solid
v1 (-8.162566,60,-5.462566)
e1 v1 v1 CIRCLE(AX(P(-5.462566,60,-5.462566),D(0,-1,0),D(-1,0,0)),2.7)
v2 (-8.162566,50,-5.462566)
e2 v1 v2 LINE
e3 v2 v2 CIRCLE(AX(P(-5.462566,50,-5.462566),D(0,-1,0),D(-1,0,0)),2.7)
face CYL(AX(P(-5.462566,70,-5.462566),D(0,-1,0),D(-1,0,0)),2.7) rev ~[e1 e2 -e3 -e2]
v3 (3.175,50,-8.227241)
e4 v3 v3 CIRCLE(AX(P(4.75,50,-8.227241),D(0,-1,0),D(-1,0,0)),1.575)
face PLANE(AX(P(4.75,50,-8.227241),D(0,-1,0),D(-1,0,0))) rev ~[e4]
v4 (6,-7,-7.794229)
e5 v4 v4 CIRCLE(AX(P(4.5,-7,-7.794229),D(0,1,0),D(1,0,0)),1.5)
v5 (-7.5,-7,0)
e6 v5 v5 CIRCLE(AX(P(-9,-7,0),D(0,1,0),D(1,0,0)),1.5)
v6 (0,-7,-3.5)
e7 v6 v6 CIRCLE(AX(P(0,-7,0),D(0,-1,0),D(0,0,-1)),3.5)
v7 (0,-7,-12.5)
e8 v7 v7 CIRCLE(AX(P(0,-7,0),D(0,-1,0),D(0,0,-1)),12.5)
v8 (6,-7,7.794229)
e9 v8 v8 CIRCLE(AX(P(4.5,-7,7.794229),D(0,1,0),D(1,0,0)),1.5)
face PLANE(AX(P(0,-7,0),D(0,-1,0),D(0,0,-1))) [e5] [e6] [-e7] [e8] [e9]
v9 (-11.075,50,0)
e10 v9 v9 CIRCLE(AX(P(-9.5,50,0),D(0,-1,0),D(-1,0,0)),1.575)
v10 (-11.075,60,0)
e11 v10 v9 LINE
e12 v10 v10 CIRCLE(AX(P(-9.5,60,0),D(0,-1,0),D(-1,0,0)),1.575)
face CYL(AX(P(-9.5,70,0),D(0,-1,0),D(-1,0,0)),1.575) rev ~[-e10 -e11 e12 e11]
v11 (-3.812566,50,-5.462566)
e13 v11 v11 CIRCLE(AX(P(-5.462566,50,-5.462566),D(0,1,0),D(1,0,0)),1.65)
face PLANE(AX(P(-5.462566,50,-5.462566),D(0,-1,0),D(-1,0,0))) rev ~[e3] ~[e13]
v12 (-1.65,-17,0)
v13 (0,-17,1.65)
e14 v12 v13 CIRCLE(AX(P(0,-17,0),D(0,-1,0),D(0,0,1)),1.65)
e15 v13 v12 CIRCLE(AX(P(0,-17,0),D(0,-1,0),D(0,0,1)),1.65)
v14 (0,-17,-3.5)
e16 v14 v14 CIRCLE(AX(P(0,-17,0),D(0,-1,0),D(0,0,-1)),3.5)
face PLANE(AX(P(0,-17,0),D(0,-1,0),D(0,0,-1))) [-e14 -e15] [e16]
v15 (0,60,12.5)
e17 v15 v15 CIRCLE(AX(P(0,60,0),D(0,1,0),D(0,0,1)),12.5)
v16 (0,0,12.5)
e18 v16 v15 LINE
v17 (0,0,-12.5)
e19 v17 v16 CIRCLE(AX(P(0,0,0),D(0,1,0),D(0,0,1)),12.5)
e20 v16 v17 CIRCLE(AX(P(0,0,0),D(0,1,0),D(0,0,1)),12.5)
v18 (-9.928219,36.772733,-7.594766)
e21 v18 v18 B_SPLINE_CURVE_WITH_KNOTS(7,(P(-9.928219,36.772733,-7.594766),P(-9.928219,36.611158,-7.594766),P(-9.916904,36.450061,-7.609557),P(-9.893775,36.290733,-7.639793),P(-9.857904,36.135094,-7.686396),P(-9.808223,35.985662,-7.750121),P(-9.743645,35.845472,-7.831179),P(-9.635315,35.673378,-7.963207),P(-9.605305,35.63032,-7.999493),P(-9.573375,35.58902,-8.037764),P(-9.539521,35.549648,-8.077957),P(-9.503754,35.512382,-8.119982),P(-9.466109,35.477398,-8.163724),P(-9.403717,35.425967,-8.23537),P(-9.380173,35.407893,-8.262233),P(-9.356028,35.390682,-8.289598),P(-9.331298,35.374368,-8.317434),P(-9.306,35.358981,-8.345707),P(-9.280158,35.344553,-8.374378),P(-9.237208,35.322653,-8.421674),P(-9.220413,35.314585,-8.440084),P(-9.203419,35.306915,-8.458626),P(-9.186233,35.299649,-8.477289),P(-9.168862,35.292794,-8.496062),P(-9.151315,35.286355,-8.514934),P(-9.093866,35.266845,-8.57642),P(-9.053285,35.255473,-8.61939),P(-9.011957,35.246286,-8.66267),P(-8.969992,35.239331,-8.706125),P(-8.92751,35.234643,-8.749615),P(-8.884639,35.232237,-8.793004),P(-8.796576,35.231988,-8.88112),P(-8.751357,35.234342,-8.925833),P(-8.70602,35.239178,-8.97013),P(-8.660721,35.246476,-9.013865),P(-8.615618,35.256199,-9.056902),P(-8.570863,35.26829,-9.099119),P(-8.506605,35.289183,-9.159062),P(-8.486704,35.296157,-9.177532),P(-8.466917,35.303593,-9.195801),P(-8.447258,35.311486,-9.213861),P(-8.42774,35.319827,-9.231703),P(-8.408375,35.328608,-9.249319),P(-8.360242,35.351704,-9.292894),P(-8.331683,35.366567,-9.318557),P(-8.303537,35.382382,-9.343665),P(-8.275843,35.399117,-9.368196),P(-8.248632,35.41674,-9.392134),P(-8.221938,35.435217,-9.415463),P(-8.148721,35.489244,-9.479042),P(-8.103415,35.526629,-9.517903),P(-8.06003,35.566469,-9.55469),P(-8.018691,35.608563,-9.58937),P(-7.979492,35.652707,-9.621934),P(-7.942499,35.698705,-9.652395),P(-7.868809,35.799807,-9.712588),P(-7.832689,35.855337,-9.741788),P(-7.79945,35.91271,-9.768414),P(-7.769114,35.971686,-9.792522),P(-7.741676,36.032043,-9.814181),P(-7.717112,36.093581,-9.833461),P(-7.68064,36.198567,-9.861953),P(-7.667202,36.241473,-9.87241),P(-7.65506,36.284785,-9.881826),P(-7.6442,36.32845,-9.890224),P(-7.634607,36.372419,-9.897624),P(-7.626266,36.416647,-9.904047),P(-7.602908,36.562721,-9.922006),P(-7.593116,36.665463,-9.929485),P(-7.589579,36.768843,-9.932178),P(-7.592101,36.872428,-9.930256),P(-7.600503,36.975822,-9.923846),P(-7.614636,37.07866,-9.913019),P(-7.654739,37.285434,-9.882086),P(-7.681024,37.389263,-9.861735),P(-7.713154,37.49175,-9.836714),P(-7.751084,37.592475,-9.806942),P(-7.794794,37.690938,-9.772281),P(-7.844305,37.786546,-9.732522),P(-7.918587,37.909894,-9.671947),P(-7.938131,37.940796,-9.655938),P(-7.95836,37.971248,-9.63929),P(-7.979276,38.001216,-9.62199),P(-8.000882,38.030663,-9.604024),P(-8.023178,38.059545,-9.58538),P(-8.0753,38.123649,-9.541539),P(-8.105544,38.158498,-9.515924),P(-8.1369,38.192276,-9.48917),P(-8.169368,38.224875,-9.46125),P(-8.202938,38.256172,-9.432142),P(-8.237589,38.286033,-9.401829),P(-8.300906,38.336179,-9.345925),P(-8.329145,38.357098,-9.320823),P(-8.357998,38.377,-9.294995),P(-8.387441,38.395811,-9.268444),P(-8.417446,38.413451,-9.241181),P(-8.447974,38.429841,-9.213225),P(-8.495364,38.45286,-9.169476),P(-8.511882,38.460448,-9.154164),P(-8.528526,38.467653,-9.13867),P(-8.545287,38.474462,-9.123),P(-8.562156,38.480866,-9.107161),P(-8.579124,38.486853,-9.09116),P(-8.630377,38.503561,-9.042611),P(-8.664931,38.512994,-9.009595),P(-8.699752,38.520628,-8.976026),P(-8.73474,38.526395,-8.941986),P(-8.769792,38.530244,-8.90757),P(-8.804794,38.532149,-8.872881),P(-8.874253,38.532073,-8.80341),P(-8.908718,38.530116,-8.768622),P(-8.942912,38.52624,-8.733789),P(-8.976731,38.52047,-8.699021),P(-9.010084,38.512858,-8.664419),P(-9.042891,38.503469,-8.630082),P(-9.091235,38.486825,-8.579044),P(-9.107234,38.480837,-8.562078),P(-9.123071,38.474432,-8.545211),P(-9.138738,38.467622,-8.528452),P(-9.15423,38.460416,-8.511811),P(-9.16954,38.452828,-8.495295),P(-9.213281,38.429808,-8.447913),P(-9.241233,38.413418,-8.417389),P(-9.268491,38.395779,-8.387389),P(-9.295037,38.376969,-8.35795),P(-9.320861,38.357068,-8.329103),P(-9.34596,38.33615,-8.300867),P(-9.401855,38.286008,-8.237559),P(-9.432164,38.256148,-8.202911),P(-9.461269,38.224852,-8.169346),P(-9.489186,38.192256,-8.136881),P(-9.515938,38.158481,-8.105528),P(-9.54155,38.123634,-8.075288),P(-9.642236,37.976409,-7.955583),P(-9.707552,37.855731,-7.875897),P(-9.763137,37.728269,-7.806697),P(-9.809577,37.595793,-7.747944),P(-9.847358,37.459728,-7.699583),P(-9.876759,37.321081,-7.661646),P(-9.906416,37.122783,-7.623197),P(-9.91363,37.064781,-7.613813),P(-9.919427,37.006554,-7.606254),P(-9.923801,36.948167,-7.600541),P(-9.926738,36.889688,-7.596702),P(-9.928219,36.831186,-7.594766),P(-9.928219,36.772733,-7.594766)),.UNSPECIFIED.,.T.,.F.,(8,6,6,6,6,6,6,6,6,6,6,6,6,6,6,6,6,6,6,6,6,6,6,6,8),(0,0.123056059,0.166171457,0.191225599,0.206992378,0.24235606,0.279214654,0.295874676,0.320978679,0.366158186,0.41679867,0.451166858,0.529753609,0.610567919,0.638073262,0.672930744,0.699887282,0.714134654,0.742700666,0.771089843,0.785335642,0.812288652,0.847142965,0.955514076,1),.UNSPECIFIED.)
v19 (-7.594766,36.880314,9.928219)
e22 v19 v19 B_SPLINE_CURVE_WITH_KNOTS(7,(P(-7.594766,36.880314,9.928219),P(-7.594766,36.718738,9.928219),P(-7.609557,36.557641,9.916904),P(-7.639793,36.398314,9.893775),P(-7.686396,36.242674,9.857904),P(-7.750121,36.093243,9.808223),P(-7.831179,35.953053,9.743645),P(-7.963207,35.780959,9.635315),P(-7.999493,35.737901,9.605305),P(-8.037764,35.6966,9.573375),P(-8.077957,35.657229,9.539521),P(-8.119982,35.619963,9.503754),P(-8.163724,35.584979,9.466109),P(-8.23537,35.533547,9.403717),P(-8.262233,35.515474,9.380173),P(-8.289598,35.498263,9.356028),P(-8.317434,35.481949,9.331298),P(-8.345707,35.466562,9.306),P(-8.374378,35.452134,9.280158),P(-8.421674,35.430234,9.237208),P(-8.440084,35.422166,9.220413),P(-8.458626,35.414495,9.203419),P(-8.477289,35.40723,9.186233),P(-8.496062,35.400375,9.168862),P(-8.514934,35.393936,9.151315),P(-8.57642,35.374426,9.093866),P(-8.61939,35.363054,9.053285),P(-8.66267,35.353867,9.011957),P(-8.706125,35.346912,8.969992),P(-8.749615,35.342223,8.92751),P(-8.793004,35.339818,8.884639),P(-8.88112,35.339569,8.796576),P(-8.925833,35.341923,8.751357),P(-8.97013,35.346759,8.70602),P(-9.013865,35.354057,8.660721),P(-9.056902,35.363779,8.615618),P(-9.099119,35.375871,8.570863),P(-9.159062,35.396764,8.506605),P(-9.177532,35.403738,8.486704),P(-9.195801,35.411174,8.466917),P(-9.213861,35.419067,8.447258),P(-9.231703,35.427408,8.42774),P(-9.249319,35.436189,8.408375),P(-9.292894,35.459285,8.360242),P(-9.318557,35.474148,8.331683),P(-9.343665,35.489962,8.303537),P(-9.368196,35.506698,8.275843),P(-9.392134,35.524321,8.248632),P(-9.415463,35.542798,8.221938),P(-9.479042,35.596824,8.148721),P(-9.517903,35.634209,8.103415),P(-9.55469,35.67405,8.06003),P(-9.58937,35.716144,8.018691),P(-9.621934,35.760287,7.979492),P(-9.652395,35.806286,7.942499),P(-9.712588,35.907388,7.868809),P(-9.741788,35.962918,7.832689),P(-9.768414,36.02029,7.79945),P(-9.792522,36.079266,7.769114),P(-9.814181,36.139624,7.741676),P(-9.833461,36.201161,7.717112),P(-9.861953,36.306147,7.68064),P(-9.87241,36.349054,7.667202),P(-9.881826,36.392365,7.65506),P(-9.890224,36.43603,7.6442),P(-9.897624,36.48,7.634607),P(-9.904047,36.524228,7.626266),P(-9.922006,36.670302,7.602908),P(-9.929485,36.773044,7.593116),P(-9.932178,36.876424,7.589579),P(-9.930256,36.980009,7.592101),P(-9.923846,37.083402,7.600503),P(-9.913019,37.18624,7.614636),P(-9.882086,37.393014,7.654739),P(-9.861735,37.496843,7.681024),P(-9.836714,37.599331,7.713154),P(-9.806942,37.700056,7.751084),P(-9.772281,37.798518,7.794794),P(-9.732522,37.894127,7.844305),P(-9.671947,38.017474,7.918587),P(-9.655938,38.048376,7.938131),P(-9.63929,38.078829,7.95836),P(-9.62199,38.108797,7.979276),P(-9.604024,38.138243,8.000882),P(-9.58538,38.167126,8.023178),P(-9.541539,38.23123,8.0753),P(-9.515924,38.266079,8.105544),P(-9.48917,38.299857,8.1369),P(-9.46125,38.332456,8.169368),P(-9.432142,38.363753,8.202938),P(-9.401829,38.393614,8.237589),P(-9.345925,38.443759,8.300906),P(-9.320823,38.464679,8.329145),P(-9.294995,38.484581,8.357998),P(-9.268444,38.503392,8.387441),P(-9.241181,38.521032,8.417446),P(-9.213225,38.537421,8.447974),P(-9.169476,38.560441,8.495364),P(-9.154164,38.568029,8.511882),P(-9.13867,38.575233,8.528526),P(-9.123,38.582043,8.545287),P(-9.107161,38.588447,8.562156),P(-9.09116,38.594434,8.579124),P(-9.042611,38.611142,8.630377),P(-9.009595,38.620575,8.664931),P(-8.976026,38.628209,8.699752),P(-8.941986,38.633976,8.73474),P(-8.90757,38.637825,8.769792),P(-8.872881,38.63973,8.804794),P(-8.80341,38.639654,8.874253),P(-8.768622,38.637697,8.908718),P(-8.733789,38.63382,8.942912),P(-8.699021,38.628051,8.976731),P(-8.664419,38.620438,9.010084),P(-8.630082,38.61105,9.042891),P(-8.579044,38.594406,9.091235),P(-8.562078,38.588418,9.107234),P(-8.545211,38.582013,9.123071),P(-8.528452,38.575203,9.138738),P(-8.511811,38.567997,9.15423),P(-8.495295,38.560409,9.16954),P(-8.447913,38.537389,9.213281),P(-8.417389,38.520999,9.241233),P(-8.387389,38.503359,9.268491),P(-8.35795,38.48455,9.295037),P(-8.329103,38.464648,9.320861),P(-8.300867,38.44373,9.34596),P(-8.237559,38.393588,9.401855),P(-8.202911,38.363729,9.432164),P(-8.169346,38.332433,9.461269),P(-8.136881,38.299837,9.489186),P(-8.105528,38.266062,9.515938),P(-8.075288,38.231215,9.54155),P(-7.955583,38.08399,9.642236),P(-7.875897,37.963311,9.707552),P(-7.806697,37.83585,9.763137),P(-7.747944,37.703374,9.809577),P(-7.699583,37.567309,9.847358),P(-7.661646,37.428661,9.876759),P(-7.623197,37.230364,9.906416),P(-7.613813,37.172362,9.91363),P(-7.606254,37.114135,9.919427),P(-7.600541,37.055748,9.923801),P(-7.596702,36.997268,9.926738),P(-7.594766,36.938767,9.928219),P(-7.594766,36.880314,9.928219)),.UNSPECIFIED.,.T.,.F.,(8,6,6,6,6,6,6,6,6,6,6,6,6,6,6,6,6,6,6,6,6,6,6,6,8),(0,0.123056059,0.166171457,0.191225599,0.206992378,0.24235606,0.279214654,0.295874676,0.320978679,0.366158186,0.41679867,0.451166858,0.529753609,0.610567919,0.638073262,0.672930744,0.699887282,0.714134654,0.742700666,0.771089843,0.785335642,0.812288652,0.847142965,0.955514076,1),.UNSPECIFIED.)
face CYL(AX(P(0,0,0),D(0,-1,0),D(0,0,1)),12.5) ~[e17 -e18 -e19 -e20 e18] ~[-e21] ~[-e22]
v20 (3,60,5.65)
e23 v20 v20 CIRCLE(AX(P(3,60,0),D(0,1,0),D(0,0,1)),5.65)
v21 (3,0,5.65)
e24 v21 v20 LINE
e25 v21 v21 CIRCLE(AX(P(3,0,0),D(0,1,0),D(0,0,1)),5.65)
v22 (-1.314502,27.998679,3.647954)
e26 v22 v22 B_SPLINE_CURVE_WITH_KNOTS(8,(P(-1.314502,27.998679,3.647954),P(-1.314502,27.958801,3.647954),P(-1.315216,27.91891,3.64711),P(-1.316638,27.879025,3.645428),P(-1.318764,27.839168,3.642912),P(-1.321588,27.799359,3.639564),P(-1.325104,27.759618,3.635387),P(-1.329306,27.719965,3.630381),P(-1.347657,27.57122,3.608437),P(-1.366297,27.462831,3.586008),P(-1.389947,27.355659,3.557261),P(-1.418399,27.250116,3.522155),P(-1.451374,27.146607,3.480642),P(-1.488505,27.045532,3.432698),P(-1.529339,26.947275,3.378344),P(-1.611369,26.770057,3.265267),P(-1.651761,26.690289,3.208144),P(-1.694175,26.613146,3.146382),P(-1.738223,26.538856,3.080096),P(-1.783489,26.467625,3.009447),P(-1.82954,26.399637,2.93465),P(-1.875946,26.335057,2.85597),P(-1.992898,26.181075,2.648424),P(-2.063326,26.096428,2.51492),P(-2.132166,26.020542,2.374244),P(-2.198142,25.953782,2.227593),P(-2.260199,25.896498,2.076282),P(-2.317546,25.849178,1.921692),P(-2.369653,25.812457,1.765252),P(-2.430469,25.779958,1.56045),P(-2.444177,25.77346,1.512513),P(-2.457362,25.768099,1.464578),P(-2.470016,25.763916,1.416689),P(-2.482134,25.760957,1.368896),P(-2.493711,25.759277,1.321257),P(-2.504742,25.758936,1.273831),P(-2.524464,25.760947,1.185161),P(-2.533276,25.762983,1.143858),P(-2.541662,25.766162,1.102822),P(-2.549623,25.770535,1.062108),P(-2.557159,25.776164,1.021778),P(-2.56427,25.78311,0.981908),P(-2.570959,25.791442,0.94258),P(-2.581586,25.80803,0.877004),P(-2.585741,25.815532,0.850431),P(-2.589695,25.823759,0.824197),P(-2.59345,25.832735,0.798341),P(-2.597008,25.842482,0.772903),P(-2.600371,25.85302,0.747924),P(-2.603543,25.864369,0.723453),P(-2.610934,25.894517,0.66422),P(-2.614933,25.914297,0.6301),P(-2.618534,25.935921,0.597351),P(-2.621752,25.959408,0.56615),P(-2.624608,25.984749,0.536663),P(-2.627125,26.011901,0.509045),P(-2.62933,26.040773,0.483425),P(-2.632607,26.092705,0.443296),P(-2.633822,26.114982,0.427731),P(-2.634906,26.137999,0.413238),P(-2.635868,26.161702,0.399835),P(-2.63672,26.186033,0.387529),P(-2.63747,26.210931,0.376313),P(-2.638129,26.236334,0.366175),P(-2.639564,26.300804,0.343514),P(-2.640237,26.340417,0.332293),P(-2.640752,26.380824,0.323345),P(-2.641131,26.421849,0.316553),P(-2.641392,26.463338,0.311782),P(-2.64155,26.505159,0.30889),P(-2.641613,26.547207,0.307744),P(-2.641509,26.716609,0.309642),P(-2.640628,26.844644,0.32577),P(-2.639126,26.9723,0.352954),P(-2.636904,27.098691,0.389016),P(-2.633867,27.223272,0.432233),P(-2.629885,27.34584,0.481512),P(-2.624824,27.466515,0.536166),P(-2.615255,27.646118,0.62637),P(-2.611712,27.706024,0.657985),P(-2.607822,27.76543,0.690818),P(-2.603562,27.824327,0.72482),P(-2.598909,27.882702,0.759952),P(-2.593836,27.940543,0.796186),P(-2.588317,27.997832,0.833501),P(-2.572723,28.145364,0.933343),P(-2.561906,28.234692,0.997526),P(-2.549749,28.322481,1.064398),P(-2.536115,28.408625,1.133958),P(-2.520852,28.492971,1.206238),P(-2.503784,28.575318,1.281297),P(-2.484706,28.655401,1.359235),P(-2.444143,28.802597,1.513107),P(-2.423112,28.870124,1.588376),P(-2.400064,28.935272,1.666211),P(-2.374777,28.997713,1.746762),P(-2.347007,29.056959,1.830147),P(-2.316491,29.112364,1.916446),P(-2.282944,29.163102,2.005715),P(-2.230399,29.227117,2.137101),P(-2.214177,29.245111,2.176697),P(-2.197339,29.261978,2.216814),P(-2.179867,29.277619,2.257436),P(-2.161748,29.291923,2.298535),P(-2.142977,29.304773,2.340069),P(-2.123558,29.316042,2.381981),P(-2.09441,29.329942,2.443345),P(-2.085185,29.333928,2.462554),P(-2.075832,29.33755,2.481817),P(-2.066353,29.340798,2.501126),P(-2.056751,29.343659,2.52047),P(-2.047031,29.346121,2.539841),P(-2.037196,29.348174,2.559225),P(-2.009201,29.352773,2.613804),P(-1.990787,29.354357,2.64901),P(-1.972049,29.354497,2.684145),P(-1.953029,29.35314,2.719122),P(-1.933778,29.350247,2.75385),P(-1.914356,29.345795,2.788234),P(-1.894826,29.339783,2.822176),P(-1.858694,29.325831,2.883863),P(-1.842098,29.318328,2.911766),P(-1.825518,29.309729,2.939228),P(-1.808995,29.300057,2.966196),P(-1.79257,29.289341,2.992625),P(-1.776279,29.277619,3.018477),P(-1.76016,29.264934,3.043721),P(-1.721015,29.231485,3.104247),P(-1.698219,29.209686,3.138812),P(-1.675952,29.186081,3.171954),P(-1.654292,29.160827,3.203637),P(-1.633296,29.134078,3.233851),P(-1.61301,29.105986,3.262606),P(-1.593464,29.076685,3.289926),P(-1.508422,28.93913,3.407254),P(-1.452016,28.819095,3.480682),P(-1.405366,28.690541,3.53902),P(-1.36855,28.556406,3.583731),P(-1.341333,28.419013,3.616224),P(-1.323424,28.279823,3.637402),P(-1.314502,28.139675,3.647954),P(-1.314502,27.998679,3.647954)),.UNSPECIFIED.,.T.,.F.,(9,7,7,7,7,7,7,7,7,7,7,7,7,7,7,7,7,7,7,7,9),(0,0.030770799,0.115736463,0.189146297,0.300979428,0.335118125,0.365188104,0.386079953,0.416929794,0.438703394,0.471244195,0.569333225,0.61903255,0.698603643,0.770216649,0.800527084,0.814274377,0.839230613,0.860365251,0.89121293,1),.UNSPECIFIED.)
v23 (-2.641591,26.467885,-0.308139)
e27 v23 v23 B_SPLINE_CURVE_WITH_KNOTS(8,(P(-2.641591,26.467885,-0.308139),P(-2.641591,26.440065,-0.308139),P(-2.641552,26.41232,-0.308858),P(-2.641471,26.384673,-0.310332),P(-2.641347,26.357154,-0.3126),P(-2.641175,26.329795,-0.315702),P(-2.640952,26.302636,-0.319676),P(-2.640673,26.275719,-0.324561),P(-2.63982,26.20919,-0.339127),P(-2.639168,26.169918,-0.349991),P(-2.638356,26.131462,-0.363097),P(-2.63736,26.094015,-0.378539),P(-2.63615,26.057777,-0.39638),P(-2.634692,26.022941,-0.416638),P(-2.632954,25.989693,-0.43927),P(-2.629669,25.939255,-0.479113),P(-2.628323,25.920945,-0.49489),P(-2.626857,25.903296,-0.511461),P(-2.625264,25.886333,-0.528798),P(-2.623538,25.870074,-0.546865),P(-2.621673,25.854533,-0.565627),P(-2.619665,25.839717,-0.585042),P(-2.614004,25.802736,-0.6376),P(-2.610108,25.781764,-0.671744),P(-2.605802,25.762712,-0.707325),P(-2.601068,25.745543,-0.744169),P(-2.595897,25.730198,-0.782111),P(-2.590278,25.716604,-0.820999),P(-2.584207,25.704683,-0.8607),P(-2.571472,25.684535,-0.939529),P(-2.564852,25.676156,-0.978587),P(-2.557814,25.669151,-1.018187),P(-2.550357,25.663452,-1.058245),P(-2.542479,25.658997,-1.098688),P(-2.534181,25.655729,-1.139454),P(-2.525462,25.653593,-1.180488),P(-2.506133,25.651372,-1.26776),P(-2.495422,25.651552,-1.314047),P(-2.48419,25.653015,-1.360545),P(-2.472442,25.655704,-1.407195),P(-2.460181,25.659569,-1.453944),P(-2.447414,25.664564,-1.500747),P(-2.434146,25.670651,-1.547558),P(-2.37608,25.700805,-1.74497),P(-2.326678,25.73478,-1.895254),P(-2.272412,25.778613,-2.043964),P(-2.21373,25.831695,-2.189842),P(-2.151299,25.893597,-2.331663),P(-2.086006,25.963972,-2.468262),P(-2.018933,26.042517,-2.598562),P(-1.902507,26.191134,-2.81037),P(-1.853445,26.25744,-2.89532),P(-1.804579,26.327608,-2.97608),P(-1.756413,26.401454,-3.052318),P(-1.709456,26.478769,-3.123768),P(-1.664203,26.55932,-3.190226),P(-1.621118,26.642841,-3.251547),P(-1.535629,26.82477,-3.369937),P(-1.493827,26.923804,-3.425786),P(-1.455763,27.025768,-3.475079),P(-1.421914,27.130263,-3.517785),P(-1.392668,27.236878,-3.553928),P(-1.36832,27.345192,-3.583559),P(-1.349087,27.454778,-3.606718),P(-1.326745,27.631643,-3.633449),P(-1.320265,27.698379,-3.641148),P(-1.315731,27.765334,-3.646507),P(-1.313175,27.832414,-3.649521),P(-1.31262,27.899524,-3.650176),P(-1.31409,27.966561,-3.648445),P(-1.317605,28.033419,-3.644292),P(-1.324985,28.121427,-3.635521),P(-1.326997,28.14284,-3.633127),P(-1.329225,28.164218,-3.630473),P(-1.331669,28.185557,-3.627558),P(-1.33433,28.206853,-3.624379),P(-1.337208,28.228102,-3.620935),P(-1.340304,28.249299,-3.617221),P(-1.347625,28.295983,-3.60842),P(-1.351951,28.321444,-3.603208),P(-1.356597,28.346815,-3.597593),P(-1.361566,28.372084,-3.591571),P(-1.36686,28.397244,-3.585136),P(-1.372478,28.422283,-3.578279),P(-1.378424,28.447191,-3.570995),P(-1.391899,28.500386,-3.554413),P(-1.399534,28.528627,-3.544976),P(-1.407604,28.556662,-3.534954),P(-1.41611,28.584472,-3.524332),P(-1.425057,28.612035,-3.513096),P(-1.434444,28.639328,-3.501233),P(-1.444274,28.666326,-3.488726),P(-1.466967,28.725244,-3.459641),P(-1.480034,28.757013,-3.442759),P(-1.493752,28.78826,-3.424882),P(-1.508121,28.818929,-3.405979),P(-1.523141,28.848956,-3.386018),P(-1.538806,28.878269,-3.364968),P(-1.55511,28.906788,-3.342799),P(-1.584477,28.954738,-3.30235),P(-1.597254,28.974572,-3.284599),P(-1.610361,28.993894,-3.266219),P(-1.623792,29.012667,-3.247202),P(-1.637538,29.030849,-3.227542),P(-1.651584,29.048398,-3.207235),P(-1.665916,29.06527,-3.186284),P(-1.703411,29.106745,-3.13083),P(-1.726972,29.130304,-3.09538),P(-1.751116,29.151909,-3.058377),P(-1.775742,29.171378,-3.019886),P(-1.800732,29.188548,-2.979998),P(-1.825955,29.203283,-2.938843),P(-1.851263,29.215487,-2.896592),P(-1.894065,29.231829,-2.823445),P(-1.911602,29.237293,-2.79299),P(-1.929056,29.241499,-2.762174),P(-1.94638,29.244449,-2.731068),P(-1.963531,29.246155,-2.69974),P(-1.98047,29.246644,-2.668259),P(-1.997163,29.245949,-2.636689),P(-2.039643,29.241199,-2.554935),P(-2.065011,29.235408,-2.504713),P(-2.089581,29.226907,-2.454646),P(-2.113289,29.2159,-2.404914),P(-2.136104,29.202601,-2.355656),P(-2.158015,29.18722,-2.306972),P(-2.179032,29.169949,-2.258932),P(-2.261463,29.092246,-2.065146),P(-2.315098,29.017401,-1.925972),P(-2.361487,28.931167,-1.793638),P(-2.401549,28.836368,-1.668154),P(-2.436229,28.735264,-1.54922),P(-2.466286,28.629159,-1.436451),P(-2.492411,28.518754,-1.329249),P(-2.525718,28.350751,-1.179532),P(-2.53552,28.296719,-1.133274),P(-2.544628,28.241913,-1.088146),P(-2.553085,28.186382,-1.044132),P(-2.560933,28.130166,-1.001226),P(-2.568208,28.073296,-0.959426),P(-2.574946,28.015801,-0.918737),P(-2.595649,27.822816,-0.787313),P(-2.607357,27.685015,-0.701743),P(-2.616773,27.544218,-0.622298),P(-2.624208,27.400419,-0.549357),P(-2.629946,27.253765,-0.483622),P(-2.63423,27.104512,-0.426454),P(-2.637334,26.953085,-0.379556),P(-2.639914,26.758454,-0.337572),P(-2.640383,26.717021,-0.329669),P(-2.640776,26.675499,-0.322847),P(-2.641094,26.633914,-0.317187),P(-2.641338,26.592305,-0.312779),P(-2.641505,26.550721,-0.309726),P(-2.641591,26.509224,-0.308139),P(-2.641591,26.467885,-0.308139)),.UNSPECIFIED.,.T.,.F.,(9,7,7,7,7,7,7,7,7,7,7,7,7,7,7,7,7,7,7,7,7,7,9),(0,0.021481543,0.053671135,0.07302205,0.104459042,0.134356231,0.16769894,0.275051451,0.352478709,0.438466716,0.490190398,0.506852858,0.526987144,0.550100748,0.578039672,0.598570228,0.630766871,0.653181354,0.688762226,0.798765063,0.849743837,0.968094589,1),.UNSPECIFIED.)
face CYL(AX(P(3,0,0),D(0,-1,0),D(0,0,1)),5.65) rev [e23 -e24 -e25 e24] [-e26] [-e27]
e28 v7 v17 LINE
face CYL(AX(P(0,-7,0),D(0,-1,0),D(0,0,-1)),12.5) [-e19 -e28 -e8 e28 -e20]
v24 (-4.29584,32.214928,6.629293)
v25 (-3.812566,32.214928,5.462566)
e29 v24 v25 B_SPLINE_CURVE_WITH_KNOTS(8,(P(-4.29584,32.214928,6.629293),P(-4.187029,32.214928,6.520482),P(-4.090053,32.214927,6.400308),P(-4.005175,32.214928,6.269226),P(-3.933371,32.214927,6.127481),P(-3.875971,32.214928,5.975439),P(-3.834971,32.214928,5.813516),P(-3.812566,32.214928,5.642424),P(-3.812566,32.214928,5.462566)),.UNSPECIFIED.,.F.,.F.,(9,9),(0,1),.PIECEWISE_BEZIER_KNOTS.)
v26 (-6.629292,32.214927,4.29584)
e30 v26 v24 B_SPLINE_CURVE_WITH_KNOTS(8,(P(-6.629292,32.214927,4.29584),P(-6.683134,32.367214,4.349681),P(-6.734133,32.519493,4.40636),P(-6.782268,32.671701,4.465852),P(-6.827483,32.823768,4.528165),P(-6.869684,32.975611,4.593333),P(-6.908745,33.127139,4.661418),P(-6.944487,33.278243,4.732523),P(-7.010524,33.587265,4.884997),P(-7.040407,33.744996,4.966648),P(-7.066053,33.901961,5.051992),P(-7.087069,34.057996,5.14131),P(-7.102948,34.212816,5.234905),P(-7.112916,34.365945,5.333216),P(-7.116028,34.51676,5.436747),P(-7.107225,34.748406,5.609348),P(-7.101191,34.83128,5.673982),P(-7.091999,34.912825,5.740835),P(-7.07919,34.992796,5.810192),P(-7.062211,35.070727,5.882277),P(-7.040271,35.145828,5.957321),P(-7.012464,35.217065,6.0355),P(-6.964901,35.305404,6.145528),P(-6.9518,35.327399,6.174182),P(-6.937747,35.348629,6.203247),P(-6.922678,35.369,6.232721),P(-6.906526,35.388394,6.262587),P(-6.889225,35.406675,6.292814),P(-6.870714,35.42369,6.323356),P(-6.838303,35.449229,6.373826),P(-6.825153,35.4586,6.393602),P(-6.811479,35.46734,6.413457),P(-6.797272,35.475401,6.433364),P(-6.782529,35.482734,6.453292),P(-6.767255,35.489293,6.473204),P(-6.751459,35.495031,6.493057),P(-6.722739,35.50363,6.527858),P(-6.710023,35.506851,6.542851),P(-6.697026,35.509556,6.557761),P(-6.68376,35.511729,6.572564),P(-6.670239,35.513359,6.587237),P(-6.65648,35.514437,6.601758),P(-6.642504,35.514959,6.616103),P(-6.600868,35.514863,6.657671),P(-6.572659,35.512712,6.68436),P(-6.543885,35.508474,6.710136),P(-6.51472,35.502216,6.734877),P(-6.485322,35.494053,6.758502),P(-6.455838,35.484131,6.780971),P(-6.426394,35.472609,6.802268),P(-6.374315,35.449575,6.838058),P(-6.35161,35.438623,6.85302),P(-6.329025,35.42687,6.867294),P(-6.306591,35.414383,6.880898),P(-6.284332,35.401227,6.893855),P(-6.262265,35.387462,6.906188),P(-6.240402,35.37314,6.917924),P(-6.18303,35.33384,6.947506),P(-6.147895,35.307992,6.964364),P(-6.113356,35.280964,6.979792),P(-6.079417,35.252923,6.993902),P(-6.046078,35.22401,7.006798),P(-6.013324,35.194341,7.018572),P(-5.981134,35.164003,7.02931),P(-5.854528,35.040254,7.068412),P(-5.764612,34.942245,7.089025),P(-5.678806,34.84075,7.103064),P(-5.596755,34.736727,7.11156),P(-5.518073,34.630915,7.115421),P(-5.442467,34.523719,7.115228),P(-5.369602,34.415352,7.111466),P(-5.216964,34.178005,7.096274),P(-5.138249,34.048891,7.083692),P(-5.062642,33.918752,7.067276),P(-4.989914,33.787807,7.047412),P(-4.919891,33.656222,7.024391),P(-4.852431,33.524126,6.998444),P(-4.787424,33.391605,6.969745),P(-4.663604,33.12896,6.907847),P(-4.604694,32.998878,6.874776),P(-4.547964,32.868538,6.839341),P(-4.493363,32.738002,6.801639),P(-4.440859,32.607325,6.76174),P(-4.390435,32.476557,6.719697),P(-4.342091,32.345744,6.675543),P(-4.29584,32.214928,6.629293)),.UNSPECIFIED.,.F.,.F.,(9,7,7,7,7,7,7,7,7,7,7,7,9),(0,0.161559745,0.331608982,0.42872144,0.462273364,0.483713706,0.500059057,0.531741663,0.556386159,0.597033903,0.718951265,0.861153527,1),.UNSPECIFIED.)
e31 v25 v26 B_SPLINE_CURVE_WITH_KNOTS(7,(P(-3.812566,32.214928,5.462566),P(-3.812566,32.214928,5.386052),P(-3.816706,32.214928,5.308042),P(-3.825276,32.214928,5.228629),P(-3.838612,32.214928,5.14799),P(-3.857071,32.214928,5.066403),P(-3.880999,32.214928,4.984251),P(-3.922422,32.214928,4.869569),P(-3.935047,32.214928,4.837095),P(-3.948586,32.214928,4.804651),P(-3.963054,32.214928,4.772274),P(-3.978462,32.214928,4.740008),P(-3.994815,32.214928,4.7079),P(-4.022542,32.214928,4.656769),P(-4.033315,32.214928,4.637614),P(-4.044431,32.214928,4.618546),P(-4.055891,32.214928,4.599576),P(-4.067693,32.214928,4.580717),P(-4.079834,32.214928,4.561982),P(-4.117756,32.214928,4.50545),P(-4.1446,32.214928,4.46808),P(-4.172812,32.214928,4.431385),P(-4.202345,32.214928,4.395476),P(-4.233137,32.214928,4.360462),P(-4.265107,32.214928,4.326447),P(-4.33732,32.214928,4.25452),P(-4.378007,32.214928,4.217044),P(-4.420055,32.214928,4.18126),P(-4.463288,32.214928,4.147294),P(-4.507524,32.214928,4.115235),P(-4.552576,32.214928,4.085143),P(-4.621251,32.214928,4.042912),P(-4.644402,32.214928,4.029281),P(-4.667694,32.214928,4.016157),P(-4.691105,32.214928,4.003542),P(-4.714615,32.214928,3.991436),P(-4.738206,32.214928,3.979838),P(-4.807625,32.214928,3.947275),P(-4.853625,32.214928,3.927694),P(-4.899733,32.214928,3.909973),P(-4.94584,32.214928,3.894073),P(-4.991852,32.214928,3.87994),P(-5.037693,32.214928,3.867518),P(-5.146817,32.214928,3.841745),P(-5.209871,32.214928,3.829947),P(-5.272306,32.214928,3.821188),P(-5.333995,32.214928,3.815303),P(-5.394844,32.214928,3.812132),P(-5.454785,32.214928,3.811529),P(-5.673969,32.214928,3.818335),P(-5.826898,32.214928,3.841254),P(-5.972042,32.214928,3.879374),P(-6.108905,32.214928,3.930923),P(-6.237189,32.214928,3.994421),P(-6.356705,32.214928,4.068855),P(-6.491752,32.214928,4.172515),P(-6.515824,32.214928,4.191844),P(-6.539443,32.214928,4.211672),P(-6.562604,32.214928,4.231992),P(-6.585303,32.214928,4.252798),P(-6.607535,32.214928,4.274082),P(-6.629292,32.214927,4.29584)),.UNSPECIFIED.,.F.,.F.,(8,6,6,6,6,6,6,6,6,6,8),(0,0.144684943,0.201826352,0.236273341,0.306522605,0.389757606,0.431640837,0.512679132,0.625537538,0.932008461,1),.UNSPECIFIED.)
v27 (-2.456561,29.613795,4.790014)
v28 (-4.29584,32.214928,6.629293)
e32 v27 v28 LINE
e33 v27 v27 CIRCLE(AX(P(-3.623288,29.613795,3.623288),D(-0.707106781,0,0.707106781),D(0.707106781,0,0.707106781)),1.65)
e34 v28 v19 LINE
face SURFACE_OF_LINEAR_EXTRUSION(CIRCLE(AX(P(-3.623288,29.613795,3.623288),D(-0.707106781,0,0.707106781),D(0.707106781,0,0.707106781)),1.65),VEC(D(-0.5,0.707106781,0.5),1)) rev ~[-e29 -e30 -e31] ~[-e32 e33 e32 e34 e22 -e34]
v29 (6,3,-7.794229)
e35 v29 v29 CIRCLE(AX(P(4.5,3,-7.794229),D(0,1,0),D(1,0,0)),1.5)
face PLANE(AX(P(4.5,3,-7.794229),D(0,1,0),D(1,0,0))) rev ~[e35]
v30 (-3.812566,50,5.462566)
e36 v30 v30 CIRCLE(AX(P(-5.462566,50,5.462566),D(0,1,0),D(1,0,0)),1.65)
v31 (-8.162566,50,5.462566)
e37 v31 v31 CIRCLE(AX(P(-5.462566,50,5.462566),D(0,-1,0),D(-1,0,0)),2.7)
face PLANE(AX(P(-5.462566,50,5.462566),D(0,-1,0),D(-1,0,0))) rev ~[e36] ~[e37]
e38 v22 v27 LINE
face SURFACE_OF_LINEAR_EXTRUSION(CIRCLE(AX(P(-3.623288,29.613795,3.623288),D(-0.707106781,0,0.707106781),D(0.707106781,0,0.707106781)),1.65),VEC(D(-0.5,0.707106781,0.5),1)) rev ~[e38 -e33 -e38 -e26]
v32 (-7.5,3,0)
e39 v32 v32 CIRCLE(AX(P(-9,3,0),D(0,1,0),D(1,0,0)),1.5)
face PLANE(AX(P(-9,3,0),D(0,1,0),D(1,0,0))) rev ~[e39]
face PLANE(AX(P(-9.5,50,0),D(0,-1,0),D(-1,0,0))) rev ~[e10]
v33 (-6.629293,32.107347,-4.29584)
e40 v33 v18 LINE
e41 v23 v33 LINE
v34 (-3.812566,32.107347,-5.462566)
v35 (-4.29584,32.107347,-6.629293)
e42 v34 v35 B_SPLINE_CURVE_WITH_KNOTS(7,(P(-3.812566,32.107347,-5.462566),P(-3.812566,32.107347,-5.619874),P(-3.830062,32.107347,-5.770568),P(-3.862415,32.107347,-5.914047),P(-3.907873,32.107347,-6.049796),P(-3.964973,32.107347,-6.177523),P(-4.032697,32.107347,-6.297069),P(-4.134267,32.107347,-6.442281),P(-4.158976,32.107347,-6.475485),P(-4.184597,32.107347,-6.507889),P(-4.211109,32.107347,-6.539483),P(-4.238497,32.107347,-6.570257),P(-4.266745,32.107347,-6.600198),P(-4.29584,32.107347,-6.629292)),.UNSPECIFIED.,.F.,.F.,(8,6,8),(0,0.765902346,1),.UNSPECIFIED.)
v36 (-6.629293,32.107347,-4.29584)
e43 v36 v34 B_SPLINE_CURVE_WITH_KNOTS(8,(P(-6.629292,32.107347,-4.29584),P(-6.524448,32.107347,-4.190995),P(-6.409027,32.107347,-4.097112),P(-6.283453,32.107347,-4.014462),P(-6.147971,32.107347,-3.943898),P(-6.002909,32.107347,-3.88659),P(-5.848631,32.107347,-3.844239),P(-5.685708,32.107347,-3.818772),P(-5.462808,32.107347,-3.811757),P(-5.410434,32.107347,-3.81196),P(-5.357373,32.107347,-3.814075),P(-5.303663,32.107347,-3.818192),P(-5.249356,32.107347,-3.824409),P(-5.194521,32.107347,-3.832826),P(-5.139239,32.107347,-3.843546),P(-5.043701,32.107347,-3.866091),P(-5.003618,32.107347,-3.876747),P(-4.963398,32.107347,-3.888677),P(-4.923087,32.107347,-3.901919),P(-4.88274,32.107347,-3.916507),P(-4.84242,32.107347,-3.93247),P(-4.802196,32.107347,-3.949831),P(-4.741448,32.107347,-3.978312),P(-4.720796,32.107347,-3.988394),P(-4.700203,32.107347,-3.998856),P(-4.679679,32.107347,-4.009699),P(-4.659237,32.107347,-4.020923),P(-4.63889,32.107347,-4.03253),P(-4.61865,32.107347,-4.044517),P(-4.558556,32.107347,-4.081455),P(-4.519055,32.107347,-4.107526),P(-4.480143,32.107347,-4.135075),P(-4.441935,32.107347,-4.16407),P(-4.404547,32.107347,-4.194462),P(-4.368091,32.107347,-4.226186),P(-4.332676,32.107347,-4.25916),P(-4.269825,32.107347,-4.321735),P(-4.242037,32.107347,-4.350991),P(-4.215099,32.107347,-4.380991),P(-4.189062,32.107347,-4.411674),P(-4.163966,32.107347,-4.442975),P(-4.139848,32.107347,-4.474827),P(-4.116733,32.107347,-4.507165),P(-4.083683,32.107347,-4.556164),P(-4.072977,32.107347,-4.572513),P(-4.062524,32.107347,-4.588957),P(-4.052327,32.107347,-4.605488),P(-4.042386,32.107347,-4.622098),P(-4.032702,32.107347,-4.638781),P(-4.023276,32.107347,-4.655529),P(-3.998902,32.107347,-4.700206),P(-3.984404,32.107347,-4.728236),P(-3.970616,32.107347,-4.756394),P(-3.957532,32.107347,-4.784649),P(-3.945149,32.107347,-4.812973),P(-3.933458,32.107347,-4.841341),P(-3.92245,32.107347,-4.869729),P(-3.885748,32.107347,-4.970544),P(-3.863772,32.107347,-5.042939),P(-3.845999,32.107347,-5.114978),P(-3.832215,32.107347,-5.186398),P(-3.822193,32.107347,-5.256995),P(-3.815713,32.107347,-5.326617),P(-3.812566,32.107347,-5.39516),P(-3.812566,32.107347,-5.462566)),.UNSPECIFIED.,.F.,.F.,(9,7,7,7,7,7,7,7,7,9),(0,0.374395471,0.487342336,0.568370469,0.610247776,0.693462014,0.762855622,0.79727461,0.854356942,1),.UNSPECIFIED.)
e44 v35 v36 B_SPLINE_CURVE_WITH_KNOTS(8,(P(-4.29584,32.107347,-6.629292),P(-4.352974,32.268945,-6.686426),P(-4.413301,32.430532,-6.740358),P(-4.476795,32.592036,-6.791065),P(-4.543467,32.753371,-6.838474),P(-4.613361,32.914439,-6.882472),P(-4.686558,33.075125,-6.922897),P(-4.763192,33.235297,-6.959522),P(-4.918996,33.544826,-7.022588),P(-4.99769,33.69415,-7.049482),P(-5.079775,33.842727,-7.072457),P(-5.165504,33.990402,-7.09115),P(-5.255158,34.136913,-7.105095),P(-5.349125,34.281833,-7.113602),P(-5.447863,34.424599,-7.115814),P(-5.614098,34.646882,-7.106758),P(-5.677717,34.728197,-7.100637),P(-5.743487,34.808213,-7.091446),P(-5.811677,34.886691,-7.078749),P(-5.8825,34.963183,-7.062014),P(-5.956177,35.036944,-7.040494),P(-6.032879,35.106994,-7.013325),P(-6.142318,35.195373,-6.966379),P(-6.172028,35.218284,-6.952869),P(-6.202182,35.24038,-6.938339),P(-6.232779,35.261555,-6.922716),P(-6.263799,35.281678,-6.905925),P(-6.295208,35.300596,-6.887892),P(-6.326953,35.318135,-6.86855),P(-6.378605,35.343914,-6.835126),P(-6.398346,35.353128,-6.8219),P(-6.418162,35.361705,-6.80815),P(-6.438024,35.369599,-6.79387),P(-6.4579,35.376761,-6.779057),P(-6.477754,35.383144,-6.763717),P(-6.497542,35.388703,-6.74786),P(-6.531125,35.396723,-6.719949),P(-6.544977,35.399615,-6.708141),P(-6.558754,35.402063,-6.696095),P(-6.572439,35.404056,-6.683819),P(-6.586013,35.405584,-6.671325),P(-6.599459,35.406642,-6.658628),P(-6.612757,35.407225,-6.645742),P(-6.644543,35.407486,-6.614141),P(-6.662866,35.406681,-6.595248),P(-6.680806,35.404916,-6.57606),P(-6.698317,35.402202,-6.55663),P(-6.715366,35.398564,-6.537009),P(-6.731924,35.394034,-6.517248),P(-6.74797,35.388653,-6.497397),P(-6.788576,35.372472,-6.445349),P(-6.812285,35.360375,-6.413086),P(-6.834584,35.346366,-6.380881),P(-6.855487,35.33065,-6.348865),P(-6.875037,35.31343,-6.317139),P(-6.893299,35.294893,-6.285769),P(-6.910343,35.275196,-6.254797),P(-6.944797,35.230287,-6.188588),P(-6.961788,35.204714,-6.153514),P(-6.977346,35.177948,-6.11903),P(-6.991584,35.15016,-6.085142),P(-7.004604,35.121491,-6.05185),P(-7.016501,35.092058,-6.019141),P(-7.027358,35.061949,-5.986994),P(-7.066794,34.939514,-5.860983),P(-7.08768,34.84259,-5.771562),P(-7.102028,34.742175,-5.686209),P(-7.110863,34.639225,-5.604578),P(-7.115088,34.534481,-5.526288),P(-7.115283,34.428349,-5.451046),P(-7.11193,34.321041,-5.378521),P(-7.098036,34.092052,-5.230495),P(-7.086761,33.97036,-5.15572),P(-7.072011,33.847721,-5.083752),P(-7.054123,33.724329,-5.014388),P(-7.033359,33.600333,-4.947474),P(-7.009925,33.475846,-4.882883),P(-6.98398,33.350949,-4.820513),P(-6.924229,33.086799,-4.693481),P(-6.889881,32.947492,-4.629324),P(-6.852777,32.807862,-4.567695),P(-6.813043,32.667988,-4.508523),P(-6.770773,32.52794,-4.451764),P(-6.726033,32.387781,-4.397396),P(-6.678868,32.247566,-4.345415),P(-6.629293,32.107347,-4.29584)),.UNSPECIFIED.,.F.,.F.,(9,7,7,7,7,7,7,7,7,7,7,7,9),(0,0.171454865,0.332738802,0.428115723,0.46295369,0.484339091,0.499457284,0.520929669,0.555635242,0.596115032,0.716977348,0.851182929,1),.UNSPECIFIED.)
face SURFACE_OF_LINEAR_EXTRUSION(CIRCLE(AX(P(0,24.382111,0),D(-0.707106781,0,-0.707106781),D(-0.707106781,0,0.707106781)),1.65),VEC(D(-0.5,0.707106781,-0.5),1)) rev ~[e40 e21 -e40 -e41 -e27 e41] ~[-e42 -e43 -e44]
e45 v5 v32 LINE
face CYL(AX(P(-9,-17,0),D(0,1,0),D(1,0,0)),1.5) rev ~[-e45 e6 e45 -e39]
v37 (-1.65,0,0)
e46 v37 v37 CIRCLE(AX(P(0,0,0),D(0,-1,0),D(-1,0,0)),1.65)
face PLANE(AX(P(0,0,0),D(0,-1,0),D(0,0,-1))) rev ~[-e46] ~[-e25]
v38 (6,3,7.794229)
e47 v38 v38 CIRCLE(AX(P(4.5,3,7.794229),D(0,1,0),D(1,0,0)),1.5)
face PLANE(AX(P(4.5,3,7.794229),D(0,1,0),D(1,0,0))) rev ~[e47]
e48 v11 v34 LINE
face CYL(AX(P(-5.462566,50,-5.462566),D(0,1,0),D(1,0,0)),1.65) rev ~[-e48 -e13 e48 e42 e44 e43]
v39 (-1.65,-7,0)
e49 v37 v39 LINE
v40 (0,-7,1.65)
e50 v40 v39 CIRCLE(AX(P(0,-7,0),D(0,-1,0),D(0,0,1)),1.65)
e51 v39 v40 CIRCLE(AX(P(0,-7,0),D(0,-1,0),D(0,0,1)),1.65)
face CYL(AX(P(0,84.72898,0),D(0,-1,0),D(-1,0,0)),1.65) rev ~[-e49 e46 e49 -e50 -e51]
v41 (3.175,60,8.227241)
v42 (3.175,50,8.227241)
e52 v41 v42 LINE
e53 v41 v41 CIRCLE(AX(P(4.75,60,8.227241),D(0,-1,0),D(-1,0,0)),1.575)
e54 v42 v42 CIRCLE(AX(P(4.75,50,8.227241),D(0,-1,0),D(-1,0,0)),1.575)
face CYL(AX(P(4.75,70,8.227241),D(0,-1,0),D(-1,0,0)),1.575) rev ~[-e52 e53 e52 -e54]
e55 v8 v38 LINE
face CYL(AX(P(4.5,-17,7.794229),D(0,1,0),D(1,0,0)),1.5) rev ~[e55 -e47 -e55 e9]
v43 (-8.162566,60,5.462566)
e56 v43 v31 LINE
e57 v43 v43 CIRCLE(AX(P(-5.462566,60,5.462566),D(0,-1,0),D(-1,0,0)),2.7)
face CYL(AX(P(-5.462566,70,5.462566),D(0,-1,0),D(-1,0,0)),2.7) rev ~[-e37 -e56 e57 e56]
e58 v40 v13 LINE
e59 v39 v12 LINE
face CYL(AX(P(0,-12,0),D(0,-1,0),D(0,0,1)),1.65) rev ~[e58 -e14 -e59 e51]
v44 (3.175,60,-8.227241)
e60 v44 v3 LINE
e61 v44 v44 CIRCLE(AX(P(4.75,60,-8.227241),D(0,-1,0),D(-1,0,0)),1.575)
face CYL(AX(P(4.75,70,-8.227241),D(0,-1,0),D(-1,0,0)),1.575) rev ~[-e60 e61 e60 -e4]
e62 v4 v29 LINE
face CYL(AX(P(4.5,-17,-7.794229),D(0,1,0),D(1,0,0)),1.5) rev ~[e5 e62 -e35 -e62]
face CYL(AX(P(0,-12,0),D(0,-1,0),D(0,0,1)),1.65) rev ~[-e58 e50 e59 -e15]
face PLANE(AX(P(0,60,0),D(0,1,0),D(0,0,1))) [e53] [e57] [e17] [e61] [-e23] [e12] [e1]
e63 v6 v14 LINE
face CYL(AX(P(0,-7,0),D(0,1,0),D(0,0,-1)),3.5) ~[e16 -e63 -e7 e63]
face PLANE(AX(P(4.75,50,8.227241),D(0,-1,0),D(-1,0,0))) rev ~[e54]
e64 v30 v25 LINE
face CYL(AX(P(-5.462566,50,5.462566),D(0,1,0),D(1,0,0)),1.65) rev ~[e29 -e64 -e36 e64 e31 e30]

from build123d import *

# Parameters (mm, degrees)
SKETCH1_R                        = 12.5
SKETCH1_R_2                      = 5.65
BOSS_EXTRUDE1_DEPTH              = 60
F_6_0MM_DOWEL_HOLE1_D            = 5.4
F_6_0MM_DOWEL_HOLE1_DEPTH        = 10
TAP_DRILL_FOR_M3_HELICOIL1_D     = 3.15
TAP_DRILL_FOR_M3_HELICOIL1_DEPTH = 10
BOSS_EXTRUDE2_START              = 7
SKETCH17_R                       = 12.5
BOSS_EXTRUDE2_DEPTH              = 7
SKETCH18_R                       = 3.5
BOSS_EXTRUDE3_DEPTH              = 10
SKETCH20_W                       = 1.65
SKETCH20_H                       = 10
F_3_0MM_DOWEL_HOLE2_D            = 3.3
SKETCH24_R                       = 1.65
SKETCH27_R                       = 1.65
F_6_0MM_DOWEL_HOLE2_REACH        = 71.293
F_6_0MM_DOWEL_HOLE2_BORE_R       = 1.65
F_6_0MM_DOWEL_HOLE3_REACH        = 71.293
F_6_0MM_DOWEL_HOLE3_BORE_R       = 1.65
F_6_0MM_DOWEL_HOLE4_D            = 3
F_6_0MM_DOWEL_HOLE4_DEPTH        = 10


with BuildPart() as part:
    # Sketch1 → Boss-Extrude1 (new body)
    with BuildSketch(Plane(origin=(0, 0, 0), x_dir=(1, 0, 0), z_dir=(0, 1, 0))):
        with Locations(Location((0, 0, 0), (0, 0, 270))):
            Circle(SKETCH1_R)
        with Locations(Location((3, 0, 0), (0, 0, 270))):
            Circle(SKETCH1_R_2, mode=Mode.SUBTRACT)
    extrude(amount=BOSS_EXTRUDE1_DEPTH)

    # Ø6.0mm Dowel Hole1
    with Locations(Plane(origin=(0, 60, 0), x_dir=(1, 0, 0), z_dir=(0, 1, 0))):
        with Locations((-5.462566323, 5.462566323), (-5.462566323, -5.462566323)):
            Hole(F_6_0MM_DOWEL_HOLE1_D / 2, depth=F_6_0MM_DOWEL_HOLE1_DEPTH)

    # Tap Drill for M3 Helicoil1
    with Locations(Plane(origin=(0, 60, 0), x_dir=(1, 0, 0), z_dir=(0, 1, 0))):
        with Locations((4.75, 8.227241336), (4.75, -8.227241336), (-9.5, 0)):
            Hole(TAP_DRILL_FOR_M3_HELICOIL1_D / 2, depth=TAP_DRILL_FOR_M3_HELICOIL1_DEPTH)

    # Sketch17 → Boss-Extrude2 (add)
    with BuildSketch(Plane.XZ.offset(BOSS_EXTRUDE2_START)):
        with Locations(Location((0, 0, 0), (0, 0, 270))):
            Circle(SKETCH17_R)
    extrude(amount=-BOSS_EXTRUDE2_DEPTH)

    # Sketch18 → Boss-Extrude3 (add)
    with BuildSketch(Plane.XZ.offset(7)):
        with Locations(Location((0, 0, 0), (0, 0, 270))):
            Circle(SKETCH18_R)
    extrude(amount=BOSS_EXTRUDE3_DEPTH)

    # Sketch20 → Ø3.0mm Dowel Hole1 (revolve, cut)
    with BuildSketch(Plane(origin=(0, -7, 0), x_dir=(0, 0, 1), z_dir=(1, 0, 0))):
        with Locations((0.825, 5)):
            Rectangle(SKETCH20_W, SKETCH20_H)
    revolve(axis=Axis((0, -0.65, 0), (0, -1, 0)), mode=Mode.SUBTRACT)

    # Ø3.0mm Dowel Hole2 (through all)
    with Locations(Plane(origin=(0, 0, 0), x_dir=(1, 0, 0), z_dir=(0, 1, 0))):
        with Locations((0, 0)):
            Hole(F_3_0MM_DOWEL_HOLE2_D / 2)

    # Cut-Sweep5: sweep along a curve in space
    with BuildLine() as cut_sweep5_path:
        Line((0, 24.869183639, 0), (-8.875394659, 37.420887137, -8.875394659))
    # Sketch24 → Cut-Sweep5 (sweep, cut)
    with BuildSketch(Plane(origin=(-8.838834765, 0, -8.838834765), x_dir=(-0.7071067811865462, 0, 0.7071067811865488), z_dir=(-0.7071067811865488, 0, -0.7071067811865462))):
        with Locations((0, 36.882111372)):
            Circle(SKETCH24_R)
    sweep(path=cut_sweep5_path.line, mode=Mode.SUBTRACT)

    # Cut-Sweep6: sweep along a curve in space
    with BuildLine() as cut_sweep6_path:
        Line((-3.623287534, 30, 3.623287534), (-12.526142338, 42.590538007, 12.526142338))
        Line((-3.623287534, 30, 3.623287534), (0, 24.875897629, 0))
    # Sketch27 → Cut-Sweep6 (sweep, cut)
    with BuildSketch(Plane(origin=(-8.838834765, 0, 8.838834765), x_dir=(0.7071067811865488, 0, 0.7071067811865462), z_dir=(-0.7071067811865462, 0, 0.7071067811865488))):
        with Locations((0, 36.98969213)):
            Circle(SKETCH27_R)
    sweep(path=cut_sweep6_path.line, mode=Mode.SUBTRACT)

    # Ø6.0mm Dowel Hole2 bore → Ø6.0mm Dowel Hole2 (cut, up to next)
    with BuildSketch(Plane(origin=(0, 50, 0), x_dir=(1, 0, 0), z_dir=(0, 1, 0)), mode=Mode.PRIVATE) as f_6_0mm_dowel_hole2_sk1:
        with Locations((-5.462566323, 5.462566323)):
            Circle(F_6_0MM_DOWEL_HOLE2_BORE_R)
    f_6_0mm_dowel_hole2_tool1 = extrude(f_6_0mm_dowel_hole2_sk1.sketch, amount=-F_6_0MM_DOWEL_HOLE2_REACH, mode=Mode.PRIVATE) & part.part
    add(f_6_0mm_dowel_hole2_tool1.solids().sort_by_distance((-5.462566, 50, -5.462566))[0], mode=Mode.SUBTRACT)

    # Ø6.0mm Dowel Hole3 bore → Ø6.0mm Dowel Hole3 (cut, up to next)
    with BuildSketch(Plane(origin=(0, 50, 0), x_dir=(1, 0, 0), z_dir=(0, 1, 0)), mode=Mode.PRIVATE) as f_6_0mm_dowel_hole3_sk1:
        with Locations((-5.462566323, -5.462566323)):
            Circle(F_6_0MM_DOWEL_HOLE3_BORE_R)
    f_6_0mm_dowel_hole3_tool1 = extrude(f_6_0mm_dowel_hole3_sk1.sketch, amount=-F_6_0MM_DOWEL_HOLE3_REACH, mode=Mode.PRIVATE) & part.part
    add(f_6_0mm_dowel_hole3_tool1.solids().sort_by_distance((-5.462566, 50, 5.462566))[0], mode=Mode.SUBTRACT)

    # Ø6.0mm Dowel Hole4
    with Locations(Plane(origin=(0, -7, 0), x_dir=(-1, 0, 0), z_dir=(0, -1, 0))):
        with Locations((-4.5, -7.794228634), (9, 0), (-4.5, 7.794228634)):
            Hole(F_6_0MM_DOWEL_HOLE4_D / 2, depth=F_6_0MM_DOWEL_HOLE4_DEPTH)


solid = part.part
